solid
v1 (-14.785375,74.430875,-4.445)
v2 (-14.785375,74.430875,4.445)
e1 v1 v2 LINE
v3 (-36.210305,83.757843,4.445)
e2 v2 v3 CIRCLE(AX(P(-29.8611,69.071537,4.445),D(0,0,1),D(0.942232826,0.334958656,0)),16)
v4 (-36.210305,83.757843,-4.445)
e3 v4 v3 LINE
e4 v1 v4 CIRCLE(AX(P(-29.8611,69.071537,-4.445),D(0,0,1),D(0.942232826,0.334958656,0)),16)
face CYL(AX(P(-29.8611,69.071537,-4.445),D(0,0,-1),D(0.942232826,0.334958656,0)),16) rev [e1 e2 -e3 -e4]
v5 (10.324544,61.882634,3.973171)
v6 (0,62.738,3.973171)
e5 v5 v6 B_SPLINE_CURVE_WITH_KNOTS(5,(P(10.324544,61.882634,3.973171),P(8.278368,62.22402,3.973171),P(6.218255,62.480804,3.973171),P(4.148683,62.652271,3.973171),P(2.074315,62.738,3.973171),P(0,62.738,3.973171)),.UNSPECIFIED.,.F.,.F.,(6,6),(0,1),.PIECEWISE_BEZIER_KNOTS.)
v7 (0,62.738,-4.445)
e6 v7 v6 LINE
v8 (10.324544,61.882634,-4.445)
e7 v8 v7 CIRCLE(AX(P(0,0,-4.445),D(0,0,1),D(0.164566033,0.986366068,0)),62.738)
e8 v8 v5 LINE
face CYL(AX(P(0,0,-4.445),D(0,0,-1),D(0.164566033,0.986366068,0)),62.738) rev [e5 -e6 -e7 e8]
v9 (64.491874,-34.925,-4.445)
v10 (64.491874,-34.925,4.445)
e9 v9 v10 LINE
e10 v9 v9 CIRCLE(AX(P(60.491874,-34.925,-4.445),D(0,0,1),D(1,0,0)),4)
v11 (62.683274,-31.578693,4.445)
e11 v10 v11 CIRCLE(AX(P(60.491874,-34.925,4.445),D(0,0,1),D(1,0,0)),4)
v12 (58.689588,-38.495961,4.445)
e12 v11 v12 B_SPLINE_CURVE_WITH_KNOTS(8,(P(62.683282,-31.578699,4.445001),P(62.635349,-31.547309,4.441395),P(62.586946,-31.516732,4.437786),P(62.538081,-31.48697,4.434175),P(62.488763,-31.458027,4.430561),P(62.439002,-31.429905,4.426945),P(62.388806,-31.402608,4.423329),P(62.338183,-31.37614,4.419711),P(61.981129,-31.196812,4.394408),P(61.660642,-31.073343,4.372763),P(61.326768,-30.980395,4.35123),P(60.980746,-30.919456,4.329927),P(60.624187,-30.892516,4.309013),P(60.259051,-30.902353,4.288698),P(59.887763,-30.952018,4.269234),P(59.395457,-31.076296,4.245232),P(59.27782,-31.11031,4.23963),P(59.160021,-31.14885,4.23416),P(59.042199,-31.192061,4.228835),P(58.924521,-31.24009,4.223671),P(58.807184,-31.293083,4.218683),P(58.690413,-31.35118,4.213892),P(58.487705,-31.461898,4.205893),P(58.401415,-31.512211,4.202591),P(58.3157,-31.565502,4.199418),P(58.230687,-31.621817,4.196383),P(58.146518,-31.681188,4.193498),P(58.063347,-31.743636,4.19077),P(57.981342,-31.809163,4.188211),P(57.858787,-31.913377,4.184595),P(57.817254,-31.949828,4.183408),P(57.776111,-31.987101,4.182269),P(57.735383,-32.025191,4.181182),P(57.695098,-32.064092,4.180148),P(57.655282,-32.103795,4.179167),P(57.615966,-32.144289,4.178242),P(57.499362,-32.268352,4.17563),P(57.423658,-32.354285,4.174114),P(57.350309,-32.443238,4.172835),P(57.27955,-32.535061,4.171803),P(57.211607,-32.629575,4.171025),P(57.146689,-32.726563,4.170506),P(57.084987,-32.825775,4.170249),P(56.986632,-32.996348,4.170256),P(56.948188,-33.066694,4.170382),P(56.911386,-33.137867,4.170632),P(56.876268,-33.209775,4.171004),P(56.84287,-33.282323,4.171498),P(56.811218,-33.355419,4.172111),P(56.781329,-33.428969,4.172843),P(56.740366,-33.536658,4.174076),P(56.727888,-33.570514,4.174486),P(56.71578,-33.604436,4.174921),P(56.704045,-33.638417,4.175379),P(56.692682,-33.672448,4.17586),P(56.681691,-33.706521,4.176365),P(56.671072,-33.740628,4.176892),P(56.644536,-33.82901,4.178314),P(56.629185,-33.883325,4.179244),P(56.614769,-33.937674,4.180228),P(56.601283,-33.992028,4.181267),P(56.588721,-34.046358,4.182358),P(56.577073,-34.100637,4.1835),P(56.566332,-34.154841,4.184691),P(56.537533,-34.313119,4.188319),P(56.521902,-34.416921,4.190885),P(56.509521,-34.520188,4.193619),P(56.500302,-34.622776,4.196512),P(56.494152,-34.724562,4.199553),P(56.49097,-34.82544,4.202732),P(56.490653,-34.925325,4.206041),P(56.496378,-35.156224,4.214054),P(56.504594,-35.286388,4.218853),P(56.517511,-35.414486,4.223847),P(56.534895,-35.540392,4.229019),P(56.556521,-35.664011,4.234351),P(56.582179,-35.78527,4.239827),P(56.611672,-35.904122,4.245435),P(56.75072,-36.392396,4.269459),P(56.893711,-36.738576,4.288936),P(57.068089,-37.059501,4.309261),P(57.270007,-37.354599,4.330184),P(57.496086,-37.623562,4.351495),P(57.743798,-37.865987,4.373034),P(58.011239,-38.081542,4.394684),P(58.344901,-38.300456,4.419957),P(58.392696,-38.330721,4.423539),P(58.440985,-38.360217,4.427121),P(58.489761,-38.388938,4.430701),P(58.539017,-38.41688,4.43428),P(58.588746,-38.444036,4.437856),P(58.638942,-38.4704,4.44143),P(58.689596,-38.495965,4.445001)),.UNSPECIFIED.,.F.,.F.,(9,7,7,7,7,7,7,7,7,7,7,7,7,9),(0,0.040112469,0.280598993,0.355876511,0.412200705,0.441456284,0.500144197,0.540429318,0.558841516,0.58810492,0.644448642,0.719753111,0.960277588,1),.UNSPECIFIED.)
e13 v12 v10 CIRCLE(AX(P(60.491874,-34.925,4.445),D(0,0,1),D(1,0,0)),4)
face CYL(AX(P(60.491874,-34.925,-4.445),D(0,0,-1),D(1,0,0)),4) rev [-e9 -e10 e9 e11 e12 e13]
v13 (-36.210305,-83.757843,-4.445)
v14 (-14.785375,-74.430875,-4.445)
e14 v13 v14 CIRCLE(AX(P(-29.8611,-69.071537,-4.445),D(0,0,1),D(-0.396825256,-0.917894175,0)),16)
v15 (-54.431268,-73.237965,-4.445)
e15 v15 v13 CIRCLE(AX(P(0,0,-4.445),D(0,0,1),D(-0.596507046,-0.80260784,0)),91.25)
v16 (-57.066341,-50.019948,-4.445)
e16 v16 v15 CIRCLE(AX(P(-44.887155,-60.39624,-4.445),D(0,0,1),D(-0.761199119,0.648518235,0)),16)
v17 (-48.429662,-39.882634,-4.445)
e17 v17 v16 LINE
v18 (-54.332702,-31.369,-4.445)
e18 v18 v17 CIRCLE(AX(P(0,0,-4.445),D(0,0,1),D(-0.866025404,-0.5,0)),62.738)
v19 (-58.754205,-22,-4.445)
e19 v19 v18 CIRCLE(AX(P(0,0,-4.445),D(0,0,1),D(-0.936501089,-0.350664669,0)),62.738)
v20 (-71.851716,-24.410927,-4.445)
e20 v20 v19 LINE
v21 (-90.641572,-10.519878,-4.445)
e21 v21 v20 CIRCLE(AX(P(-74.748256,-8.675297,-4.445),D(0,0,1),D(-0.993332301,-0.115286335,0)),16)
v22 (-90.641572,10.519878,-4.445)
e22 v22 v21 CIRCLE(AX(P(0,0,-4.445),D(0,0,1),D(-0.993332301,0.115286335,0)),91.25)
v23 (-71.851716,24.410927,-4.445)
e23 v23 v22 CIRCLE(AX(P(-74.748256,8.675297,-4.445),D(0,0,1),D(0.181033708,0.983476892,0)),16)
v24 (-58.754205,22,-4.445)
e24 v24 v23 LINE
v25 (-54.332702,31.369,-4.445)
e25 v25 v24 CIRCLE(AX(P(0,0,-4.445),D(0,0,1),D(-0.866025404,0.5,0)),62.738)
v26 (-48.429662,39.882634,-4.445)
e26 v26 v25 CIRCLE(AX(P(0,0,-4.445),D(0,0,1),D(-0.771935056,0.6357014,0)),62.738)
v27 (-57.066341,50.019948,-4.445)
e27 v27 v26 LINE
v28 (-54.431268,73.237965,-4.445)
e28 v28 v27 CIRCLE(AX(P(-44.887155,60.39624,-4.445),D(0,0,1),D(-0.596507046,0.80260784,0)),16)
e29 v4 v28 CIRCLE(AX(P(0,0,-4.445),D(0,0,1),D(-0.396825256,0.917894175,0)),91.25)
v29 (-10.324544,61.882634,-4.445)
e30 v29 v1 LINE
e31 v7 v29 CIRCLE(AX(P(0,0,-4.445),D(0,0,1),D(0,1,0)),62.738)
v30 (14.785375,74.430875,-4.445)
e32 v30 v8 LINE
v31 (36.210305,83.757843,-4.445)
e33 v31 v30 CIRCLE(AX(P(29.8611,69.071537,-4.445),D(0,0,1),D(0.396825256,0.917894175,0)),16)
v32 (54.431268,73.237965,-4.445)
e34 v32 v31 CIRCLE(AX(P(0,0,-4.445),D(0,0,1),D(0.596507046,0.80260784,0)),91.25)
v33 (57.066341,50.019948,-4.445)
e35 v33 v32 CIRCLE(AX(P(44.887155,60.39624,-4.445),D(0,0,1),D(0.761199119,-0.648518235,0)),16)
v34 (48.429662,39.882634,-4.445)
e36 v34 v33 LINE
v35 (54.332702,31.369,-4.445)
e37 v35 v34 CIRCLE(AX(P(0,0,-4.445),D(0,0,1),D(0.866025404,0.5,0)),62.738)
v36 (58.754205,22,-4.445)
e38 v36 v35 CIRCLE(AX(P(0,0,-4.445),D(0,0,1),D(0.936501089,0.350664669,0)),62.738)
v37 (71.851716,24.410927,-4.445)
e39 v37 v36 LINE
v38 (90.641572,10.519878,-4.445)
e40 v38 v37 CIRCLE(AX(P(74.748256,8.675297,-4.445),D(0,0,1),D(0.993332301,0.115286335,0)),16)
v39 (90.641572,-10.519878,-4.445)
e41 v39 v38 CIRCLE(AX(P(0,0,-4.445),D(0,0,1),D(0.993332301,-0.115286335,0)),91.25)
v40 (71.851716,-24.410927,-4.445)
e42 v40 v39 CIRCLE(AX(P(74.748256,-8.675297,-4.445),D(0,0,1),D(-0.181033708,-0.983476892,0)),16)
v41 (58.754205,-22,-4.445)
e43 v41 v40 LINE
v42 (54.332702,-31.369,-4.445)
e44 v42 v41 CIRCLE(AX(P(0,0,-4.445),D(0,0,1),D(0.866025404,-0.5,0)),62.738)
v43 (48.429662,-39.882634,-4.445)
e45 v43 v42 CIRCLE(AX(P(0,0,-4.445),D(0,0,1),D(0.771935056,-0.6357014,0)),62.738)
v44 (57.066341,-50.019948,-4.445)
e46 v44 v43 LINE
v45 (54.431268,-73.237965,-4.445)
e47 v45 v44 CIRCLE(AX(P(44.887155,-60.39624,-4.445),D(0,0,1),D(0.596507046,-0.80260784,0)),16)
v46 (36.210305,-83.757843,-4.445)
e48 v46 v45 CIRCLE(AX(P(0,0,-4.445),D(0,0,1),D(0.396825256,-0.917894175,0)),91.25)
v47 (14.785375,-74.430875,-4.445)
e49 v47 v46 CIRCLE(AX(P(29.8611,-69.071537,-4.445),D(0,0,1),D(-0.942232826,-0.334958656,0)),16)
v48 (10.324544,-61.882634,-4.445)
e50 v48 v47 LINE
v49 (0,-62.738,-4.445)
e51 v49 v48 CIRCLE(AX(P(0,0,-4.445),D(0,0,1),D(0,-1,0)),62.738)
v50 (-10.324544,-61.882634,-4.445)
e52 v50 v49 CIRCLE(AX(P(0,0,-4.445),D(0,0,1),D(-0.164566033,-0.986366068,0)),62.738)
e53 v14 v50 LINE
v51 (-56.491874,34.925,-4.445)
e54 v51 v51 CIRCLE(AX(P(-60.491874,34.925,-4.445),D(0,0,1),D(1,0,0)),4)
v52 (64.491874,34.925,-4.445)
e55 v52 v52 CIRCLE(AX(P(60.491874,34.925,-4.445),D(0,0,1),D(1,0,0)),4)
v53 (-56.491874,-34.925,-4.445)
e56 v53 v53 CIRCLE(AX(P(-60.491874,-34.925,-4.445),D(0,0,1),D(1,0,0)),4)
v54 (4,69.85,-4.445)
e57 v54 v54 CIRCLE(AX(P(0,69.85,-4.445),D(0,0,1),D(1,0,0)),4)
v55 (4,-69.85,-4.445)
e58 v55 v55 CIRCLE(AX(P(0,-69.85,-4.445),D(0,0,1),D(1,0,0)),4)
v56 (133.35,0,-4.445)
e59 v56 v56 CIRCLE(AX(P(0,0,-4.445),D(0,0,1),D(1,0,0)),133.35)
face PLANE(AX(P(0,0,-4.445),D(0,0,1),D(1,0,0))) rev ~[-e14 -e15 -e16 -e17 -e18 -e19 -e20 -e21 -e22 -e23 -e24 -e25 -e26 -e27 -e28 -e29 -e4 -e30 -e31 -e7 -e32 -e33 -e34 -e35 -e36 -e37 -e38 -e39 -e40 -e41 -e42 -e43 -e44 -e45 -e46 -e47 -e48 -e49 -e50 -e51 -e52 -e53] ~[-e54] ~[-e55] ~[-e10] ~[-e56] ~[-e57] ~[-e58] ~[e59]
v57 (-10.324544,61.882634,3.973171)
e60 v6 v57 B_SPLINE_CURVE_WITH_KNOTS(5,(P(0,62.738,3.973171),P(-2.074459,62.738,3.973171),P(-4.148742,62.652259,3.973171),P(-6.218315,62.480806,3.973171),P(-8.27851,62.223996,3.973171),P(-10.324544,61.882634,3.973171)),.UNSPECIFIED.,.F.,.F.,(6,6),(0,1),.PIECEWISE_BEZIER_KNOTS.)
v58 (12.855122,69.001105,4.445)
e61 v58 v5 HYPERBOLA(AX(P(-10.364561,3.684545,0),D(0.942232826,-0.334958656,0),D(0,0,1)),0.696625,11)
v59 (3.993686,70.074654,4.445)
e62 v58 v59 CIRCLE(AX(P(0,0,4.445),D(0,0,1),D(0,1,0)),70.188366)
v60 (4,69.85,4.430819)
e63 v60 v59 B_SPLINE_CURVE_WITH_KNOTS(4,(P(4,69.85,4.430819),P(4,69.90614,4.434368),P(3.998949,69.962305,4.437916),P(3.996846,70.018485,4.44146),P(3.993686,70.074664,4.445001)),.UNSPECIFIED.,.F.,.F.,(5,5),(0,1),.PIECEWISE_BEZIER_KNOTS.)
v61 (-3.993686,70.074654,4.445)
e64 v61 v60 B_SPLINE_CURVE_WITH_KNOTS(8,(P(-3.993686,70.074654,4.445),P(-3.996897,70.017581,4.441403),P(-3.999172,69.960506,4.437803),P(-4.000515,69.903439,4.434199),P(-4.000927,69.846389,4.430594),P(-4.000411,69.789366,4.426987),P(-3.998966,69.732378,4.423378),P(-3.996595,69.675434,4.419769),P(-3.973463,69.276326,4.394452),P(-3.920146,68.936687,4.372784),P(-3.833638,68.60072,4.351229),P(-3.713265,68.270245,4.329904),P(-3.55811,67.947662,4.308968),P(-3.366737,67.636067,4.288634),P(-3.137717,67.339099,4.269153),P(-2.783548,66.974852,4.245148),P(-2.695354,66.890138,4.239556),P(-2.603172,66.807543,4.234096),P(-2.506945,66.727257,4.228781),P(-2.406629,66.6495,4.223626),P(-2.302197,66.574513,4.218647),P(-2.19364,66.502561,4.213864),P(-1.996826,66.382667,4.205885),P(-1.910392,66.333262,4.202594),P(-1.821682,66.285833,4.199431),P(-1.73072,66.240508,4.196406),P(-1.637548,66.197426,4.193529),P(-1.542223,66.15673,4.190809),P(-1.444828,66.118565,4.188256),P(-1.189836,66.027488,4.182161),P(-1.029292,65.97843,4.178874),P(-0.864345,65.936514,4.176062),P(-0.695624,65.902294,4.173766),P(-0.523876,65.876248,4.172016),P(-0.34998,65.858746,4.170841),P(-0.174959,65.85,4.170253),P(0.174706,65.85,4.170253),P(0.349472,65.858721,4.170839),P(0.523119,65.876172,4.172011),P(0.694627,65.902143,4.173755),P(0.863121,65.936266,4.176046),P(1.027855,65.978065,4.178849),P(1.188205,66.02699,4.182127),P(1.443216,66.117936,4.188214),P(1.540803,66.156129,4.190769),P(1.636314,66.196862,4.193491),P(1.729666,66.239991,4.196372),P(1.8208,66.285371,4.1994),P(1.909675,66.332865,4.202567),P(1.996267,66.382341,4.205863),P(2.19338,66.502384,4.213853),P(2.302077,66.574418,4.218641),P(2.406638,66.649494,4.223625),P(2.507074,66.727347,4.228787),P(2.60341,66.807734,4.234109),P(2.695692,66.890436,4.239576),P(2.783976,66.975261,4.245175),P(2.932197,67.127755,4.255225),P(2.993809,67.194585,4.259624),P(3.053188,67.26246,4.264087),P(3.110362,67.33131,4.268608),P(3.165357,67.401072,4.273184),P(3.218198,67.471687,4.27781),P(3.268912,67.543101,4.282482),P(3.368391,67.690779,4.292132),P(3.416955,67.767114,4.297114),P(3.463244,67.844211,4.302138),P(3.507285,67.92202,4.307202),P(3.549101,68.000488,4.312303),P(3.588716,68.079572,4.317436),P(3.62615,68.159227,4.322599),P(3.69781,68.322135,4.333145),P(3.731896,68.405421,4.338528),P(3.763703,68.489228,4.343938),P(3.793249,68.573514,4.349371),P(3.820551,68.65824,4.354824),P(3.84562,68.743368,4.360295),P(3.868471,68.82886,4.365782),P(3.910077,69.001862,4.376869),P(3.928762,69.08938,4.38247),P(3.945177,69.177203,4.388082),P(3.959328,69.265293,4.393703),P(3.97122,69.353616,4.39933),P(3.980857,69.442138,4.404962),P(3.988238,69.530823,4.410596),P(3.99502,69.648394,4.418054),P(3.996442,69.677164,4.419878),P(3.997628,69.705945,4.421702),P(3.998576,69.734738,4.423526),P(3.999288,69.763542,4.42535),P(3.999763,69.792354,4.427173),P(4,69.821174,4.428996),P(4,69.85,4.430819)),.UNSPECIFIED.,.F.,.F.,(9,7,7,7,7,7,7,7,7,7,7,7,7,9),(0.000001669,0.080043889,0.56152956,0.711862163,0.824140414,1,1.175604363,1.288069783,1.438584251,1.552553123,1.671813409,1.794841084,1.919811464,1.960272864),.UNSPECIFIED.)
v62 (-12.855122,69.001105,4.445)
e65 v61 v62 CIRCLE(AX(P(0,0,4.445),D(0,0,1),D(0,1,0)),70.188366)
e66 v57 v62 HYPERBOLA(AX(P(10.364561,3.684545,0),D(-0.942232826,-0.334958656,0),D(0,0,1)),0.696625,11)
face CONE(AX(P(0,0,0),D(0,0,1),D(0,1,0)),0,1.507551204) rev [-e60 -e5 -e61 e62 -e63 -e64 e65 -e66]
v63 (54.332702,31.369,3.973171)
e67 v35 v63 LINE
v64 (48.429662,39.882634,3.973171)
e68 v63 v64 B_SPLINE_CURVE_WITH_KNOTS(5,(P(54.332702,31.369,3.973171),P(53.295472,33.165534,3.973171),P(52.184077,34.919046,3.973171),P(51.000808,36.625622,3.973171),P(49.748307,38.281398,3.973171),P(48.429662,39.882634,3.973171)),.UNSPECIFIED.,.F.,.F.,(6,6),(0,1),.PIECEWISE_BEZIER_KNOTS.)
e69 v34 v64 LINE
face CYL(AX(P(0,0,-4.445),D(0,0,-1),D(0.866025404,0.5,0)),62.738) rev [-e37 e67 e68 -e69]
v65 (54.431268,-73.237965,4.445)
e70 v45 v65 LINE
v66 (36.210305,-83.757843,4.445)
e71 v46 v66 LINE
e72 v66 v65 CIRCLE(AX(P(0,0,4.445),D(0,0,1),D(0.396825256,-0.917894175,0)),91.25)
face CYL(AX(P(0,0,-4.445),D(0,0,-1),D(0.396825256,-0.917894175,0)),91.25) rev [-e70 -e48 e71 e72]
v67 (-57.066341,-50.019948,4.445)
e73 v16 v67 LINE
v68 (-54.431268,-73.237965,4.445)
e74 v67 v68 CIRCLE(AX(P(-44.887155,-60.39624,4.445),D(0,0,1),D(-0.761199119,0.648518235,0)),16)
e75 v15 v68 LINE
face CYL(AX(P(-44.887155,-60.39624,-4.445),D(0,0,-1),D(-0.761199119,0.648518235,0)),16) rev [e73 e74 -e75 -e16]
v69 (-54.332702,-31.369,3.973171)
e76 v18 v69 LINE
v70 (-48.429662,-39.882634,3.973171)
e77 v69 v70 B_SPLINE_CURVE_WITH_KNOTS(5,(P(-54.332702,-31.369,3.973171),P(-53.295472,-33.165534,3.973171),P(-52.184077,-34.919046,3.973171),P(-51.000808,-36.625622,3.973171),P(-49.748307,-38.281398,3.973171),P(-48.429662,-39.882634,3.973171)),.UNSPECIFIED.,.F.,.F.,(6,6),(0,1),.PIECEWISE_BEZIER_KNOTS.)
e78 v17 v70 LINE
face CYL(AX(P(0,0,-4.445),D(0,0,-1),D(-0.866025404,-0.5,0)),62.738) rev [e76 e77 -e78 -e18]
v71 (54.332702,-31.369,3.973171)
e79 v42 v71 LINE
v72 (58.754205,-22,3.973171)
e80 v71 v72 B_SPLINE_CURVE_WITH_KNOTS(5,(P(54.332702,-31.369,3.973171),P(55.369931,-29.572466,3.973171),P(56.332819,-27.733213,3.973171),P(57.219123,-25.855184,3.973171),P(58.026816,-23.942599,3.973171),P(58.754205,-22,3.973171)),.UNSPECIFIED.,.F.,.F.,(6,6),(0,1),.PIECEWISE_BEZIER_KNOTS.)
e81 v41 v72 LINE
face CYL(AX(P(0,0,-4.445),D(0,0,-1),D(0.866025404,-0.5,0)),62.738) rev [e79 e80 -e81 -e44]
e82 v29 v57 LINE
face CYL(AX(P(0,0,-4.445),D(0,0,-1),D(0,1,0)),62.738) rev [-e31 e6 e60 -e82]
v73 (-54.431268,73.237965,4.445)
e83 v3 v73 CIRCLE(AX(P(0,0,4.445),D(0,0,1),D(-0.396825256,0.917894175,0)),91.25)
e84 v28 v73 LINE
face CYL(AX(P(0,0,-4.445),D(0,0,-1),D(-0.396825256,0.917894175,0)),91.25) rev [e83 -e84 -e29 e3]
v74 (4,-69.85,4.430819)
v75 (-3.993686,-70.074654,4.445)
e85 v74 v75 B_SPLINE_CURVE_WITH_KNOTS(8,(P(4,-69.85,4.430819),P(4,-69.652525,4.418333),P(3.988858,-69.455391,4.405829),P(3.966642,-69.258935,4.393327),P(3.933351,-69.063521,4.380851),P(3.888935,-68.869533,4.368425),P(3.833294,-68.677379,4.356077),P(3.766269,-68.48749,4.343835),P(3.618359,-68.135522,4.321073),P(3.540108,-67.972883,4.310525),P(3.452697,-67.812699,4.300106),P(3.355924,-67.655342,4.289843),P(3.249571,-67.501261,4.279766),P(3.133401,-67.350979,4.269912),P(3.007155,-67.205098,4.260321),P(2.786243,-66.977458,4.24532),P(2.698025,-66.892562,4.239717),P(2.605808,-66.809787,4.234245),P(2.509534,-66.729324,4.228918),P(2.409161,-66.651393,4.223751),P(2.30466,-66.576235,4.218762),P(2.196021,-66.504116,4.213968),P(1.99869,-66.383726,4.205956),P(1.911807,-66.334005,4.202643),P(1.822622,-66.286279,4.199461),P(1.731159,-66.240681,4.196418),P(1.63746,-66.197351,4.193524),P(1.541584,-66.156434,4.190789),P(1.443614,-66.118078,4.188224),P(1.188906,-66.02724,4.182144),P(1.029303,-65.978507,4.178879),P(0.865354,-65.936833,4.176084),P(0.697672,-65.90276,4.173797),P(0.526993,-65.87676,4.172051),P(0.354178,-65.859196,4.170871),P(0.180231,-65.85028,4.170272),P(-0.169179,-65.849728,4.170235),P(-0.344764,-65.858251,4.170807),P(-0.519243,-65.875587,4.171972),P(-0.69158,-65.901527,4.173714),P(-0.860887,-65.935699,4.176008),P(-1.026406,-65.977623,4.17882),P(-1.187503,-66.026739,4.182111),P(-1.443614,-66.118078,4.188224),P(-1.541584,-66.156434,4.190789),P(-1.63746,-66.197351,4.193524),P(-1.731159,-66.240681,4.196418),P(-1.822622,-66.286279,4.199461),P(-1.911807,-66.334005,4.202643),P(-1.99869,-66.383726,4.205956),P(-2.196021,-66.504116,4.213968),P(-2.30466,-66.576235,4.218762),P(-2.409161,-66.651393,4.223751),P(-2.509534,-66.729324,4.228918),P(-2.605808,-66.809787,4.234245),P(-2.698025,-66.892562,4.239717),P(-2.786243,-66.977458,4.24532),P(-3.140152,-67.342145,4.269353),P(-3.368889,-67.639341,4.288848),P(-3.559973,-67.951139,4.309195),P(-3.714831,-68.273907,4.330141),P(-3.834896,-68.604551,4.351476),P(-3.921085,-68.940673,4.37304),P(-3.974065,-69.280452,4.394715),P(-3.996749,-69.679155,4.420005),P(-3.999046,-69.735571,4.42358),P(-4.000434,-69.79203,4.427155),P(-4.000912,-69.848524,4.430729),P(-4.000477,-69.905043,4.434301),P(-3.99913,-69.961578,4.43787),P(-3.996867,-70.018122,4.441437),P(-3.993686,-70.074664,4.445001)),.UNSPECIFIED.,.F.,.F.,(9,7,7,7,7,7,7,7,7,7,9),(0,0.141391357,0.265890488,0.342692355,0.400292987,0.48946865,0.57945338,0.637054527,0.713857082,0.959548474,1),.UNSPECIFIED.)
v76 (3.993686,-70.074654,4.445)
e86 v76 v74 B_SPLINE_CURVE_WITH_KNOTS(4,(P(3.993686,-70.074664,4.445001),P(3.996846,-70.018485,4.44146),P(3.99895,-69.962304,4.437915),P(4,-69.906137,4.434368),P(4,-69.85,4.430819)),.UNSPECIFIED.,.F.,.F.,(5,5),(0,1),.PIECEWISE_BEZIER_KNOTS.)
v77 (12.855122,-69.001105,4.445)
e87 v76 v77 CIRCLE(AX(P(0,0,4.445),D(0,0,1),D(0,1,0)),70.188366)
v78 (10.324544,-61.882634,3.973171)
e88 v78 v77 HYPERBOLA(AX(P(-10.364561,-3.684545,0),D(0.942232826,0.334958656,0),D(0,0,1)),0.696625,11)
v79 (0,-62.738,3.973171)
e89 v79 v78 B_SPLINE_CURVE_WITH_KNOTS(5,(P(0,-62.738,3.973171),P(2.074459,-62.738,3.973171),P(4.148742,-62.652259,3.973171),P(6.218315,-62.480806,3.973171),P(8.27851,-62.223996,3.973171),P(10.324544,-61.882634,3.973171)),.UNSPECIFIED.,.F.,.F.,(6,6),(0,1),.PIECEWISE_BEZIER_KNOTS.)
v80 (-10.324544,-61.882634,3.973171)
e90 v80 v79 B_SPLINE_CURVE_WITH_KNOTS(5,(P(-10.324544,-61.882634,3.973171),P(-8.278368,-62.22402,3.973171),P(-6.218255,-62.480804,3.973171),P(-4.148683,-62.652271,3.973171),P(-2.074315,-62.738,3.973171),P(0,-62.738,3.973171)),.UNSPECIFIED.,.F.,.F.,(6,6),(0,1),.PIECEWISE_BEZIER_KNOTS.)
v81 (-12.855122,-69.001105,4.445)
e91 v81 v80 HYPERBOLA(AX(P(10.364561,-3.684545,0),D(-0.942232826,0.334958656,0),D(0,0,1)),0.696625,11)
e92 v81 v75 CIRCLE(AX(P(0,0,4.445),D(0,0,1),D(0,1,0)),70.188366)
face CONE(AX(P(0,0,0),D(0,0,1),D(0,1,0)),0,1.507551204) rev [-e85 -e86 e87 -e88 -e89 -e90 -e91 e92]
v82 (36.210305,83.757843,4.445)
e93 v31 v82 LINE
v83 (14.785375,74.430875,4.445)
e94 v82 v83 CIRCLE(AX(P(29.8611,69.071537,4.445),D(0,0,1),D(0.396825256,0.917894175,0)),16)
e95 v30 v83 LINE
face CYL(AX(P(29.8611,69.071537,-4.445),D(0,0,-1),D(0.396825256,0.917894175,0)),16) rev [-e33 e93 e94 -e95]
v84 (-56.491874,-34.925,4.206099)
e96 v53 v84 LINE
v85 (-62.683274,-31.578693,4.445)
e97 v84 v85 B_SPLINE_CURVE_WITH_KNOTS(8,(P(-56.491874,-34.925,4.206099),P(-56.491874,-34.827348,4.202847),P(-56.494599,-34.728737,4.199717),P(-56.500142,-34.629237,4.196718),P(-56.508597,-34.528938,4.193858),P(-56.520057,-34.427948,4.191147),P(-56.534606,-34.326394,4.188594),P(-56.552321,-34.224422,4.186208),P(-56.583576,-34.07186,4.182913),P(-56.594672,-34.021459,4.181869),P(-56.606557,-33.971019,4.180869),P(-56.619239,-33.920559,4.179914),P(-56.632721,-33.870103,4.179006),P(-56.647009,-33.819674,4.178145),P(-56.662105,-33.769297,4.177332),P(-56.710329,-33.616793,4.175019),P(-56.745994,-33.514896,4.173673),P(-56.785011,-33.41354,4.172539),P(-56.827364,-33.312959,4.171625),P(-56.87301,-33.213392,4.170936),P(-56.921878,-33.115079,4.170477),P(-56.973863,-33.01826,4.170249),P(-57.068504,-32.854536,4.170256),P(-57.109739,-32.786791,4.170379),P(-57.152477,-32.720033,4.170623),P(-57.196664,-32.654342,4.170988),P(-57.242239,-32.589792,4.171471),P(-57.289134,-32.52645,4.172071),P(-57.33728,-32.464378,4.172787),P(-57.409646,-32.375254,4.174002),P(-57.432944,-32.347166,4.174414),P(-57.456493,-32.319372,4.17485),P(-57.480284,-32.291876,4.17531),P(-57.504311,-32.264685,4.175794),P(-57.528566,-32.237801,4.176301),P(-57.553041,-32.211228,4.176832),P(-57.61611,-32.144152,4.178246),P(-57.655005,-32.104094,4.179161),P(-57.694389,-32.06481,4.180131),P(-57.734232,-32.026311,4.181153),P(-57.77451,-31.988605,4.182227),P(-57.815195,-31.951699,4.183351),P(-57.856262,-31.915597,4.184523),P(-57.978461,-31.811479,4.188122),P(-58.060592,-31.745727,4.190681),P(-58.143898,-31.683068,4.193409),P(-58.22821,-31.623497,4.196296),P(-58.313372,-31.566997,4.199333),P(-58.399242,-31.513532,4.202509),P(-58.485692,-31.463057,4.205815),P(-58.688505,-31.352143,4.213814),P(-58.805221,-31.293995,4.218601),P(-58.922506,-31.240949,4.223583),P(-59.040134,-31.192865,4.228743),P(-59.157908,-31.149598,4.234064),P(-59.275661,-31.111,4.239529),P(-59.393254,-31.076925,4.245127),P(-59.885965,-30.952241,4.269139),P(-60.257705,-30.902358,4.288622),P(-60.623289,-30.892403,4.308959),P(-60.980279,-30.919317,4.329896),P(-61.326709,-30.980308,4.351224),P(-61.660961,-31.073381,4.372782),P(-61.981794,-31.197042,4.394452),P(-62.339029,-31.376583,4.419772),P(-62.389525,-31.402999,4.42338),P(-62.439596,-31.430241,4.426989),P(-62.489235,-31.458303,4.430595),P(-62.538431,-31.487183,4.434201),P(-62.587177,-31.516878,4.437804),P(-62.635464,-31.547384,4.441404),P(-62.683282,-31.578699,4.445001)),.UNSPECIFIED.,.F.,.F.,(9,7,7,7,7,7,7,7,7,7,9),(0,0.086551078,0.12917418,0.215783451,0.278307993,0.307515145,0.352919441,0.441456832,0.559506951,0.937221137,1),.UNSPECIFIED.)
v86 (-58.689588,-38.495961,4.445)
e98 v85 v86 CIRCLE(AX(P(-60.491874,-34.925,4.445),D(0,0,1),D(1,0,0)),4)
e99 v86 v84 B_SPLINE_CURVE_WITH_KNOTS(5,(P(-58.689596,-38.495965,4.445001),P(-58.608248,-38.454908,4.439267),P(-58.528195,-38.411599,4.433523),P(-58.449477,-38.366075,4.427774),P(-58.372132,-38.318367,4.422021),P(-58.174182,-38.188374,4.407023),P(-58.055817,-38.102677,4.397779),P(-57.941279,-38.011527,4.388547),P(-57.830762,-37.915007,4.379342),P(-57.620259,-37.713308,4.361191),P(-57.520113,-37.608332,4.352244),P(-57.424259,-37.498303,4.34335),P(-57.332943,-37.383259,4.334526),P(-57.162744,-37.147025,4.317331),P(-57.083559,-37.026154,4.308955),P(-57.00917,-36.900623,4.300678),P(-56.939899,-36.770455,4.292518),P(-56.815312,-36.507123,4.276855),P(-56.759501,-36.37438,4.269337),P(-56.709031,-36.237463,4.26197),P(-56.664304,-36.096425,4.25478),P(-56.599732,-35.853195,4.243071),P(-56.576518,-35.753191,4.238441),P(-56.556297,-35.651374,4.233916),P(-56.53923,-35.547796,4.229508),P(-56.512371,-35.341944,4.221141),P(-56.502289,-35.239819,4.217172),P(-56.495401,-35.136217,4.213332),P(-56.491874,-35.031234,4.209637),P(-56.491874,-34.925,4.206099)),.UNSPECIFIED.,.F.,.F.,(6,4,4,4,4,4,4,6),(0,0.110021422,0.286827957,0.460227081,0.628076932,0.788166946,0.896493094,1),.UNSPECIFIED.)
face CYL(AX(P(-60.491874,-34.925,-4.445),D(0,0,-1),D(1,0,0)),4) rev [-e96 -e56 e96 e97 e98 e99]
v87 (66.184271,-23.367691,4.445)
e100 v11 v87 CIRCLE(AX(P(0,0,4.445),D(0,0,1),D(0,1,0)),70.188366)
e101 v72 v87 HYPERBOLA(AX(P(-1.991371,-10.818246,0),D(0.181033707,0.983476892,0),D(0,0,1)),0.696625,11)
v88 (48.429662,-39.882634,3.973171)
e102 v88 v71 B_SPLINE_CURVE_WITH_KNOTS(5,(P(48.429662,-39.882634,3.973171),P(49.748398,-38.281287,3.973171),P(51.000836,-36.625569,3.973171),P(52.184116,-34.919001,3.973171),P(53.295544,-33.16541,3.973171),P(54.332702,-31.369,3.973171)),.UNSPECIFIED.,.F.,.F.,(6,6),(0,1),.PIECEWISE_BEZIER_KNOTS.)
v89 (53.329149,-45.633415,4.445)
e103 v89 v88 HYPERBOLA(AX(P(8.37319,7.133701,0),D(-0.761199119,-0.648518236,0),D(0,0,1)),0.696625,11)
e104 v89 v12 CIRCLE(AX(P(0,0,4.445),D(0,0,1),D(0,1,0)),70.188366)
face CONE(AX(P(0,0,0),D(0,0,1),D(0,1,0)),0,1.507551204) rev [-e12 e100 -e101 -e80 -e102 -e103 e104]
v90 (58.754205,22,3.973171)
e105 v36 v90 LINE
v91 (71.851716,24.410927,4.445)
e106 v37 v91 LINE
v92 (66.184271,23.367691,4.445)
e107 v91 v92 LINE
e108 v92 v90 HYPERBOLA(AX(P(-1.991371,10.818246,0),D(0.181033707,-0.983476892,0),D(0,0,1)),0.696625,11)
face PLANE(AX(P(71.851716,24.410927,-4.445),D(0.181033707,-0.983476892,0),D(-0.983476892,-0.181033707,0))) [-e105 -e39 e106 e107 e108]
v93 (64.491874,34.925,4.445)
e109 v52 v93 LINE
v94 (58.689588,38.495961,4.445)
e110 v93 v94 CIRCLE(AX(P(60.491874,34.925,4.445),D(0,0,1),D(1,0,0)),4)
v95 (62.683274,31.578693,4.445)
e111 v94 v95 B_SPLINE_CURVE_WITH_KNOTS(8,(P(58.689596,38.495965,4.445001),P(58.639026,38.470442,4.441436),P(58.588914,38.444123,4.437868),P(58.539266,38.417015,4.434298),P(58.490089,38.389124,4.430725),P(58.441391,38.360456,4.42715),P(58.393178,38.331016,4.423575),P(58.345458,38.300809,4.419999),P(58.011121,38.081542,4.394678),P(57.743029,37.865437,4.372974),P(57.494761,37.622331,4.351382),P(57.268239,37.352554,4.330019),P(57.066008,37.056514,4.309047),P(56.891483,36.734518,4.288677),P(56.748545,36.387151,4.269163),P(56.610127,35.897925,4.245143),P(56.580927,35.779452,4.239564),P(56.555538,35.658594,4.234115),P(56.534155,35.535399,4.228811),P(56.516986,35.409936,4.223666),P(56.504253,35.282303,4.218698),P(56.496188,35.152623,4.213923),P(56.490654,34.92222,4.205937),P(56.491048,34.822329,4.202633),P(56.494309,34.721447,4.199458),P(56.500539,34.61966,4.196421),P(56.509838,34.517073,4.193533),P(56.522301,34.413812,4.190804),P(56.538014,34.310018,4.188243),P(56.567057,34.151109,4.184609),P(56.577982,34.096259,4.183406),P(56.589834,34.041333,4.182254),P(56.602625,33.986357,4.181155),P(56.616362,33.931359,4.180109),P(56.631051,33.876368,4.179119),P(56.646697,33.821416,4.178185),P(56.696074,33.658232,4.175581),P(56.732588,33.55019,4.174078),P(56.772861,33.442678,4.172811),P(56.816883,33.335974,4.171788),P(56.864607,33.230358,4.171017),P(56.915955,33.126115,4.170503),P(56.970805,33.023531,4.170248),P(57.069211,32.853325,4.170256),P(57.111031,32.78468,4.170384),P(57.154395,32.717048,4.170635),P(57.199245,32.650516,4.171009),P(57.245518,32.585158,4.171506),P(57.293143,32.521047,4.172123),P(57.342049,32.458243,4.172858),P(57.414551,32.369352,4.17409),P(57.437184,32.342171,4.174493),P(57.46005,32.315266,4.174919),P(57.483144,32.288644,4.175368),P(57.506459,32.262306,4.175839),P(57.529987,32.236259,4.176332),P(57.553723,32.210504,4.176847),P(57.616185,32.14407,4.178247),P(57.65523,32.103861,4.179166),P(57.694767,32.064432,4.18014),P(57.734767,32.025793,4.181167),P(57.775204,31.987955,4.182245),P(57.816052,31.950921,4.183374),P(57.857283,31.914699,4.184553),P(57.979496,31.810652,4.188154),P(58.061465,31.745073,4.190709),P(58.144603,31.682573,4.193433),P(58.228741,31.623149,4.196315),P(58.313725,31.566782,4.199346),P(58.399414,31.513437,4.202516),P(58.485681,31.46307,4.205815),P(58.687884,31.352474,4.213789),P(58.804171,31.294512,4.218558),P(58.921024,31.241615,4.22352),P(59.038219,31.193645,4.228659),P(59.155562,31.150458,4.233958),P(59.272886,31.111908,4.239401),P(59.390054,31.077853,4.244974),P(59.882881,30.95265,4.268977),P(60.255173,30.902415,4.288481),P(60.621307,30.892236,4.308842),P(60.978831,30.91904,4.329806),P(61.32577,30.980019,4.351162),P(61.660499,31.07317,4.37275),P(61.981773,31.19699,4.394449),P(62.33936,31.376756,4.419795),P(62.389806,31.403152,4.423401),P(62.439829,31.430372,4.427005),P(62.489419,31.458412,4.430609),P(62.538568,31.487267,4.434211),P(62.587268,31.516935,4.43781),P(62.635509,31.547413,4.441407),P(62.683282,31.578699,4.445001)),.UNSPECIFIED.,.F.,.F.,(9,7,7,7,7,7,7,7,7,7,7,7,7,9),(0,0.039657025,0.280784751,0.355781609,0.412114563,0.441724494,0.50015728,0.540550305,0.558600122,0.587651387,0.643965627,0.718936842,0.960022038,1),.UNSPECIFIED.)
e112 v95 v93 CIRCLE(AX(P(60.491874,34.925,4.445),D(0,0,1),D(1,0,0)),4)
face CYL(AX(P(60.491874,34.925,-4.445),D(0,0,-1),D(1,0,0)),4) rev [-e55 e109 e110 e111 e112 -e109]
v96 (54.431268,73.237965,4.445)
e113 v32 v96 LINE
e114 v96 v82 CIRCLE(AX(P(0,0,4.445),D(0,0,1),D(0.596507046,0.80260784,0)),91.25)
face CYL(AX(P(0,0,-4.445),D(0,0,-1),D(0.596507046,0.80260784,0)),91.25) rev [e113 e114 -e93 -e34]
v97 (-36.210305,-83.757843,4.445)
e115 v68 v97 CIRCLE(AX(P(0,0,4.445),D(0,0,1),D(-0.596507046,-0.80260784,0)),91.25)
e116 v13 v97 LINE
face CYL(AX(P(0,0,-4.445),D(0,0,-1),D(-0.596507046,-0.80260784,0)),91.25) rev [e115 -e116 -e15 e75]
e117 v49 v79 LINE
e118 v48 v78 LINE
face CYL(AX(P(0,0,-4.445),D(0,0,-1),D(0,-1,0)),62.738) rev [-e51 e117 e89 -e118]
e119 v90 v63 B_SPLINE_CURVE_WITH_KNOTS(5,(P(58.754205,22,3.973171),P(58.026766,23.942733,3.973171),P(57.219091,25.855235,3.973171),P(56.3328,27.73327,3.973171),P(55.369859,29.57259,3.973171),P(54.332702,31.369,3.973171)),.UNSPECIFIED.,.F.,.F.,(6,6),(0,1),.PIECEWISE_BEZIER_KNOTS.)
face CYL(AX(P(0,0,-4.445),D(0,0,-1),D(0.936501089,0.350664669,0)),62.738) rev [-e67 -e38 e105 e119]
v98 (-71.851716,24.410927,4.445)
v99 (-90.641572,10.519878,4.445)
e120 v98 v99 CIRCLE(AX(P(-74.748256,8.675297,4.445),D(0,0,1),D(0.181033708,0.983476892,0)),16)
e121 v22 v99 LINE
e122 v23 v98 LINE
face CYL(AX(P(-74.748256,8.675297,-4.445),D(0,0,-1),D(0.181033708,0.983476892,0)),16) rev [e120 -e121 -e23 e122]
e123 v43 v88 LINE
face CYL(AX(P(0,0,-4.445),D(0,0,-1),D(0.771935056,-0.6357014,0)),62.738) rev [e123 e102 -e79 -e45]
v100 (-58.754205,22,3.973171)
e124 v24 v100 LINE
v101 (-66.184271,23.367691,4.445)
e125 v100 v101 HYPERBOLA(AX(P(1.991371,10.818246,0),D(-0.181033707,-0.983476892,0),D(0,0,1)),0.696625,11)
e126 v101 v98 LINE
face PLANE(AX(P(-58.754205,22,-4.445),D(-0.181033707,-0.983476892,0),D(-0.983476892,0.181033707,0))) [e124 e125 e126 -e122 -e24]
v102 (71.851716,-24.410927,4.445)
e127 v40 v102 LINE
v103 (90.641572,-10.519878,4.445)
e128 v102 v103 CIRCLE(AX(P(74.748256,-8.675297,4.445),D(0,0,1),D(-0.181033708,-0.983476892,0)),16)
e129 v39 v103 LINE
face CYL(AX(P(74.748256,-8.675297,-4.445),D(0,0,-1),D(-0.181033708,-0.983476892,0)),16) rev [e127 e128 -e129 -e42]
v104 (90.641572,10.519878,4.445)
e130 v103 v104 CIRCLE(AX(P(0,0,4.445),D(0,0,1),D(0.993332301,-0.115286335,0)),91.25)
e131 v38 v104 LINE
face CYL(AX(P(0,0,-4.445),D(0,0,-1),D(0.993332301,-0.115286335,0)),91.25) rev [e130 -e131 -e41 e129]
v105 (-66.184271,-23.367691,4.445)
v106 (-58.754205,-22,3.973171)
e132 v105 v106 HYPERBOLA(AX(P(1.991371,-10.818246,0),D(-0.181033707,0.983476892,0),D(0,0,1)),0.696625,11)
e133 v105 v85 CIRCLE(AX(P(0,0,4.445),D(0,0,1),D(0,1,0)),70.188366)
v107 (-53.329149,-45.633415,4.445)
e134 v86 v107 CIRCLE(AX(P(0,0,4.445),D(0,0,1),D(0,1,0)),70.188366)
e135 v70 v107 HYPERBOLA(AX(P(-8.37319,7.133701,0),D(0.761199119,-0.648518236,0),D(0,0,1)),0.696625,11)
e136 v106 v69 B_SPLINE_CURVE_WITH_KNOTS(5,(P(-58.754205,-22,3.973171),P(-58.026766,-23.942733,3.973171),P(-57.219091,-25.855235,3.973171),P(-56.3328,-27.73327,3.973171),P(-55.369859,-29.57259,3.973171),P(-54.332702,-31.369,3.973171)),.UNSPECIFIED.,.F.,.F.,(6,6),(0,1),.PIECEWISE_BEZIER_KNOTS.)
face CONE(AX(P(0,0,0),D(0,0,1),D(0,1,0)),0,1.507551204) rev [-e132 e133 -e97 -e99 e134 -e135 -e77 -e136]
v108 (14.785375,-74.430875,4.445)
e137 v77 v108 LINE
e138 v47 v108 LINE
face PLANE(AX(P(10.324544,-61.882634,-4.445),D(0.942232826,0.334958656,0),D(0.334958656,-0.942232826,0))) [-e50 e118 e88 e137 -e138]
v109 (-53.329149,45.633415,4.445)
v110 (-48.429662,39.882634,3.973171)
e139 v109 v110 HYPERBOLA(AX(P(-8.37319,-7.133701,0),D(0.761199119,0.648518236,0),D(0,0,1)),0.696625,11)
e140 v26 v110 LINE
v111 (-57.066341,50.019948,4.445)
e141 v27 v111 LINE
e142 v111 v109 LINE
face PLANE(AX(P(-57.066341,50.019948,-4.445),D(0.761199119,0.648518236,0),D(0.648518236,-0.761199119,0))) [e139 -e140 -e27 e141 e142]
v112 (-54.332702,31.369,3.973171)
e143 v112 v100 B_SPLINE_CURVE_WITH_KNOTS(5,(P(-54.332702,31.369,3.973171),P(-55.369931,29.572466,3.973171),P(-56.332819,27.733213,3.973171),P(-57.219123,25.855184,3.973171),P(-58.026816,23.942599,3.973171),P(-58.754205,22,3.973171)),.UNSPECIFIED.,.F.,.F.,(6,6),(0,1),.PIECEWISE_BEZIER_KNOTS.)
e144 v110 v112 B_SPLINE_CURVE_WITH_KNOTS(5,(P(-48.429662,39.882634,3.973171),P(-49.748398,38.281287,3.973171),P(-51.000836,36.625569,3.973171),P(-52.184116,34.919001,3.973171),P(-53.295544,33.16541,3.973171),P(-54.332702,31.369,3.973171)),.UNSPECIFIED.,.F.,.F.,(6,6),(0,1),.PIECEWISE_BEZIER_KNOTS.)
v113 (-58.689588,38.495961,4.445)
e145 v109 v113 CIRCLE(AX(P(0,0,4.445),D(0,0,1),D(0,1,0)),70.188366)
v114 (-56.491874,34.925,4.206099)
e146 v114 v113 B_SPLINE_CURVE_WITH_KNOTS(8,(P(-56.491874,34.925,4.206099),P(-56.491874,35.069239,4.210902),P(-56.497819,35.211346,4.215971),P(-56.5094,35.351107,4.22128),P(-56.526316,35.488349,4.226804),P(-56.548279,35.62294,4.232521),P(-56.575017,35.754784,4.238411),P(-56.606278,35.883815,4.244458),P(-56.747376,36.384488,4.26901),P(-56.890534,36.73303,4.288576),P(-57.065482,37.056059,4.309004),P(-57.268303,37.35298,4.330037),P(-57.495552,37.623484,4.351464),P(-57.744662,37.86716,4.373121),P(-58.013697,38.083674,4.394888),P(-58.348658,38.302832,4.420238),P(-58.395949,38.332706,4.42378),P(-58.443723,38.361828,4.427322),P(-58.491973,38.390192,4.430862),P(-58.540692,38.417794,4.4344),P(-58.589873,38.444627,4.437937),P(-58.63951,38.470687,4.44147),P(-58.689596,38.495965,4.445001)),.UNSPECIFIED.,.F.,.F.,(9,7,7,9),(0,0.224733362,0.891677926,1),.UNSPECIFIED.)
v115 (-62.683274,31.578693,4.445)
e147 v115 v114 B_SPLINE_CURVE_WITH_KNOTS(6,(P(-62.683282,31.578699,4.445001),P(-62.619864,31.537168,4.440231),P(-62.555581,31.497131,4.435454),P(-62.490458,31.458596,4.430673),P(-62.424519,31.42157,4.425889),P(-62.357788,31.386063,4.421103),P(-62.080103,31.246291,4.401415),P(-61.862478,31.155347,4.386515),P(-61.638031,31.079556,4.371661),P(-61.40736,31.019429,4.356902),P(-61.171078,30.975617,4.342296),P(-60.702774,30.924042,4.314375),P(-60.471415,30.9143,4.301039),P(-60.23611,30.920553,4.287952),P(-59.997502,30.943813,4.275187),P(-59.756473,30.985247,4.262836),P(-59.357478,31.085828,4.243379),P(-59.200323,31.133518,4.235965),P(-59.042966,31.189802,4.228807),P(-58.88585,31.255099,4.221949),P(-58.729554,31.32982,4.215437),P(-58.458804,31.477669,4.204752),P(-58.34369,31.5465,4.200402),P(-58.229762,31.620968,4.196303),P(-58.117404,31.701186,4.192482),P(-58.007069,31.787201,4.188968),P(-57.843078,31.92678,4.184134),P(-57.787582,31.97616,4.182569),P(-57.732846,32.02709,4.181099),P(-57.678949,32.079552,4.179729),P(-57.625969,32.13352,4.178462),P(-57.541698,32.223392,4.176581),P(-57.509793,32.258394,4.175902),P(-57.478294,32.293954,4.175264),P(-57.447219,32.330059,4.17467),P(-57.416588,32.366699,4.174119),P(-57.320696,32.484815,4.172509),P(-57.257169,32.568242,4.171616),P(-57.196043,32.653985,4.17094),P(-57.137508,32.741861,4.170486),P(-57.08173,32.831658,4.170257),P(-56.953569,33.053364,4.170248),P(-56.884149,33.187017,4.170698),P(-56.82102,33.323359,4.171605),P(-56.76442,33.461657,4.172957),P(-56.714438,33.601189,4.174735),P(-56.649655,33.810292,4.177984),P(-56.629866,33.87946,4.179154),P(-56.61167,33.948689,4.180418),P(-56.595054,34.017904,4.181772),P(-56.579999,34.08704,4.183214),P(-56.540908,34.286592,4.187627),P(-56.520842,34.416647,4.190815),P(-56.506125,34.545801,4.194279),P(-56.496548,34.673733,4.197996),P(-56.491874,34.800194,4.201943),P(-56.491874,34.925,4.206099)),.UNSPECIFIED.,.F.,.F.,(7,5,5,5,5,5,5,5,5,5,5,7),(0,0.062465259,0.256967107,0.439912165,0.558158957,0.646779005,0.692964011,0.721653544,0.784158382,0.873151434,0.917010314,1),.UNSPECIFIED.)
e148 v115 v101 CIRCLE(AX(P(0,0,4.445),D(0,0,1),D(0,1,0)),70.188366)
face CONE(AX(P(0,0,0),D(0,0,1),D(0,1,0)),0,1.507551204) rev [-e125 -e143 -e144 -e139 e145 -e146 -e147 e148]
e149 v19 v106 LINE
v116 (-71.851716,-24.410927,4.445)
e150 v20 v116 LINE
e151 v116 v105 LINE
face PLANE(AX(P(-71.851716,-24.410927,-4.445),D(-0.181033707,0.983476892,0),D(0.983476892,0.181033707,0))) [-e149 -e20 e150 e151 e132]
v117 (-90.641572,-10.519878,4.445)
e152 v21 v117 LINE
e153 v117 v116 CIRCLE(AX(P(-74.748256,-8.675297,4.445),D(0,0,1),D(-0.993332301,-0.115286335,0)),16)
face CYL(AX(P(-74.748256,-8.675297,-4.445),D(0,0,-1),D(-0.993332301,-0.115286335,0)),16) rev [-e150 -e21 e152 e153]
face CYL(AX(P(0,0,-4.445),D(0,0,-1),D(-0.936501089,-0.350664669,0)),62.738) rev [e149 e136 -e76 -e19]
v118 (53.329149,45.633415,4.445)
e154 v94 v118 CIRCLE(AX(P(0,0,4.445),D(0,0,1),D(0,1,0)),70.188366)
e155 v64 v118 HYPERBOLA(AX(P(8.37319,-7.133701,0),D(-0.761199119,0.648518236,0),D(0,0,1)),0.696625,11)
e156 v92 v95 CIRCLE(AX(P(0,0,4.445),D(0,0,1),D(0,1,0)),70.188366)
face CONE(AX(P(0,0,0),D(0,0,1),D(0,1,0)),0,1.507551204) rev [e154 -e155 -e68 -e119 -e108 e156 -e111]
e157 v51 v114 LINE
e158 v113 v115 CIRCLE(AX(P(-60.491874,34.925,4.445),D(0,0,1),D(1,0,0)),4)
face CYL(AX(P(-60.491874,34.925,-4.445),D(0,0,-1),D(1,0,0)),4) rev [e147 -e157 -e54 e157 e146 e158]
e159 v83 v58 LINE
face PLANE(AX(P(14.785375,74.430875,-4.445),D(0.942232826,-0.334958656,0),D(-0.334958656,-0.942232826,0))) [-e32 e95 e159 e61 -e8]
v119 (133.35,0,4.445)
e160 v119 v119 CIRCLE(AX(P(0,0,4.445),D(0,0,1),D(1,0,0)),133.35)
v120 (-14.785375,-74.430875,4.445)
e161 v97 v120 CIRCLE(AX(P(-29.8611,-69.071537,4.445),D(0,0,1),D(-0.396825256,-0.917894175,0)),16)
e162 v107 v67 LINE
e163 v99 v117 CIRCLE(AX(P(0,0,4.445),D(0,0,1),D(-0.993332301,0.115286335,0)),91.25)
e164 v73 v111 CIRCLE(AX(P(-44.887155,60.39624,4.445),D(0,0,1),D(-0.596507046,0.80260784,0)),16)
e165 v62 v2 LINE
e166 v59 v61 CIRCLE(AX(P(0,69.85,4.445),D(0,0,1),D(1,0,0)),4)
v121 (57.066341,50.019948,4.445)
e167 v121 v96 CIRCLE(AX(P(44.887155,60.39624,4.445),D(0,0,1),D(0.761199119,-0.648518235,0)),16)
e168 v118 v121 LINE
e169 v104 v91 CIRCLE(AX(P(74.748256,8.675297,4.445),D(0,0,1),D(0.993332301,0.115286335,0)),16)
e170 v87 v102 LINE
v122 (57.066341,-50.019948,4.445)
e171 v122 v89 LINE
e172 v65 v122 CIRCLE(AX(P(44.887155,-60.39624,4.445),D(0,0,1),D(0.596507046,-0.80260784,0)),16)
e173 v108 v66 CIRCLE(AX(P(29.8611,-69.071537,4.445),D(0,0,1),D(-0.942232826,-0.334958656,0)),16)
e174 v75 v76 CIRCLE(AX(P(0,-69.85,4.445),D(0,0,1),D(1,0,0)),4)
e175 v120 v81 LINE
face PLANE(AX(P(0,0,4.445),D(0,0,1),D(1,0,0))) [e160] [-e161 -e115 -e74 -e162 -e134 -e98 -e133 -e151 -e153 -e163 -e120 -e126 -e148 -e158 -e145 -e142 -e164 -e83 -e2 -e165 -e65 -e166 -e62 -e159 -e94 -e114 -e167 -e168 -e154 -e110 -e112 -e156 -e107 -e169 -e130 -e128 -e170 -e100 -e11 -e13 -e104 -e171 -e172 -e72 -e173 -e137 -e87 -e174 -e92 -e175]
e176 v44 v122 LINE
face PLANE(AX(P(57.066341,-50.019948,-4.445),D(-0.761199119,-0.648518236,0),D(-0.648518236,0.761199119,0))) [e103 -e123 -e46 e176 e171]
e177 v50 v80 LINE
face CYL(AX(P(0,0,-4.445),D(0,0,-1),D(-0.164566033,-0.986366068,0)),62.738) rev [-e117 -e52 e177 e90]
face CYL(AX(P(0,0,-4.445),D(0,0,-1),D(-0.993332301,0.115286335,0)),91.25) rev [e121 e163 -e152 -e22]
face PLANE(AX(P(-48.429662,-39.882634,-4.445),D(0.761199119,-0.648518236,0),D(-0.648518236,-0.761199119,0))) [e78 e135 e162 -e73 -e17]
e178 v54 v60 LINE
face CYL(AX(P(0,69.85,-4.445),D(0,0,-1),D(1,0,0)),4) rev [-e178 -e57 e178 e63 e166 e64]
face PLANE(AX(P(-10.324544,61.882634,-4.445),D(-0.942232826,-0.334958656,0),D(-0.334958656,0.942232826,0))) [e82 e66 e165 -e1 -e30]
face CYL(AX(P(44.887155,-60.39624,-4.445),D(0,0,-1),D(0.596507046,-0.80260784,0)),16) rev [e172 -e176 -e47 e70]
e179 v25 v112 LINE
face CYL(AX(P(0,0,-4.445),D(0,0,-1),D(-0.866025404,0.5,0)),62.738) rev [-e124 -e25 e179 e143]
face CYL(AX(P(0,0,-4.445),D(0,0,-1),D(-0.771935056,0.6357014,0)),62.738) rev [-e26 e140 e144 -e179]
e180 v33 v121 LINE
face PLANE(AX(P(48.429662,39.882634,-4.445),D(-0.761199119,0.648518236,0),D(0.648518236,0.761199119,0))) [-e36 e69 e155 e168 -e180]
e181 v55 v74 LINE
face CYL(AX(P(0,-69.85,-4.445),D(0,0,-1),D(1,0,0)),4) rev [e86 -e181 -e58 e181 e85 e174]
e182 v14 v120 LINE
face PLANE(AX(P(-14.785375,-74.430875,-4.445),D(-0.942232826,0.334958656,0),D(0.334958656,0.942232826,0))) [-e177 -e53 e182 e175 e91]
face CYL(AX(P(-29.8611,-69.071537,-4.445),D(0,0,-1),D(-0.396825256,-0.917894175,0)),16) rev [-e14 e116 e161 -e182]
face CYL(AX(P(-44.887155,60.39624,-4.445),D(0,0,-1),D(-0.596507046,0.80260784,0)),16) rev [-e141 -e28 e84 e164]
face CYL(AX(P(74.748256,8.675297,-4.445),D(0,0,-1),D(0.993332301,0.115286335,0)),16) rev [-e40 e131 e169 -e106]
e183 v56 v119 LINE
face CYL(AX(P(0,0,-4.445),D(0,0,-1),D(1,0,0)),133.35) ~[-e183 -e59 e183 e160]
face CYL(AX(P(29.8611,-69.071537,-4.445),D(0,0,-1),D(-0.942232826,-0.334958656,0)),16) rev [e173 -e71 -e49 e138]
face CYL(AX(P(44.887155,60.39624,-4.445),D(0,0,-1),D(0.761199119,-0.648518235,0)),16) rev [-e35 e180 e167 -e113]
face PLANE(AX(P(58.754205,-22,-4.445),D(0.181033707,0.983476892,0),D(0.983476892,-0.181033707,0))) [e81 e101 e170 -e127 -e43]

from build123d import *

# Parameters (mm, degrees)
BOSS_EXTRUDE1_DEPTH      = 4.445
BOSS_EXTRUDE1_DEPTH_BACK = 4.445
SKETCH1_R                = 133.35
SKETCH1_R_2              = 4


with BuildPart() as part:
    # Sketch1 → Boss-Extrude1 (new, two sides: drawn at the far end of the back side and taken through both)
    with BuildSketch(Plane.XY.offset(-BOSS_EXTRUDE1_DEPTH_BACK)):
        Circle(SKETCH1_R)
        with Locations((0, 69.85)):
            Circle(SKETCH1_R_2, mode=Mode.SUBTRACT)
        with Locations((60.491874454, 34.925)):
            Circle(SKETCH1_R_2, mode=Mode.SUBTRACT)
        with Locations((60.491874454, -34.925)):
            Circle(SKETCH1_R_2, mode=Mode.SUBTRACT)
        with Locations((0, -69.85)):
            Circle(SKETCH1_R_2, mode=Mode.SUBTRACT)
        with Locations((-60.491874454, -34.925)):
            Circle(SKETCH1_R_2, mode=Mode.SUBTRACT)
        with Locations((-60.491874454, 34.925)):
            Circle(SKETCH1_R_2, mode=Mode.SUBTRACT)
        with BuildLine():
            Line((14.785375278, 74.430875165), (10.324543782, 61.882634395))
            ThreePointArc((10.324543782, 61.882634395), (5.179957882, 62.523792914), (0, 62.738))
            ThreePointArc((0, 62.738), (-5.179957882, 62.523792914), (-10.324543782, 61.882634395))
            Line((-10.324543782, 61.882634395), (-14.785375278, 74.430875165))
            ThreePointArc((-14.785375278, 74.430875165), (-23.474698759, 83.741706154), (-36.210304588, 83.757843464))
            ThreePointArc((-36.210304588, 83.757843464), (-45.625, 79.024818095), (-54.431267912, 73.237965383))
            ThreePointArc((-54.431267912, 73.237965383), (-60.785095506, 62.200538548), (-57.06634108, 50.019948178))
            Line((-57.06634108, 50.019948178), (-48.429661548, 39.882634395))
            ThreePointArc((-48.429661548, 39.882634395), (-51.557214064, 35.747871573), (-54.332701783, 31.369))
            ThreePointArc((-54.332701783, 31.369), (-56.737171945, 26.775921341), (-58.75420533, 22))
            Line((-58.75420533, 22), (-71.851716358, 24.410926987))
            ThreePointArc((-71.851716358, 24.410926987), (-84.259794265, 21.541167606), (-90.641572499, 10.51987808))
            ThreePointArc((-90.641572499, 10.51987808), (-91.25, 0), (-90.641572499, -10.51987808))
            ThreePointArc((-90.641572499, -10.51987808), (-84.259794265, -21.541167606), (-71.851716358, -24.410926987))
            Line((-71.851716358, -24.410926987), (-58.75420533, -22))
            ThreePointArc((-58.75420533, -22), (-56.737171945, -26.775921341), (-54.332701783, -31.369))
            ThreePointArc((-54.332701783, -31.369), (-51.557214064, -35.747871573), (-48.429661548, -39.882634395))
            Line((-48.429661548, -39.882634395), (-57.06634108, -50.019948178))
            ThreePointArc((-57.06634108, -50.019948178), (-60.785095506, -62.200538548), (-54.431267912, -73.237965383))
            ThreePointArc((-54.431267912, -73.237965383), (-45.625, -79.024818095), (-36.210304588, -83.757843464))
            ThreePointArc((-36.210304588, -83.757843464), (-23.474698759, -83.741706154), (-14.785375278, -74.430875165))
            Line((-14.785375278, -74.430875165), (-10.324543782, -61.882634395))
            ThreePointArc((-10.324543782, -61.882634395), (-5.179957882, -62.523792914), (0, -62.738))
            ThreePointArc((0, -62.738), (5.179957882, -62.523792914), (10.324543782, -61.882634395))
            Line((10.324543782, -61.882634395), (14.785375278, -74.430875165))
            ThreePointArc((14.785375278, -74.430875165), (23.474698759, -83.741706154), (36.210304588, -83.757843464))
            ThreePointArc((36.210304588, -83.757843464), (45.625, -79.024818095), (54.431267912, -73.237965383))
            ThreePointArc((54.431267912, -73.237965383), (60.785095506, -62.200538548), (57.06634108, -50.019948178))
            Line((57.06634108, -50.019948178), (48.429661548, -39.882634395))
            ThreePointArc((48.429661548, -39.882634395), (51.557214064, -35.747871573), (54.332701783, -31.369))
            ThreePointArc((54.332701783, -31.369), (56.737171945, -26.775921341), (58.75420533, -22))
            Line((58.75420533, -22), (71.851716358, -24.410926987))
            ThreePointArc((71.851716358, -24.410926987), (84.259794265, -21.541167606), (90.641572499, -10.51987808))
            ThreePointArc((90.641572499, -10.51987808), (91.25, 0), (90.641572499, 10.51987808))
            ThreePointArc((90.641572499, 10.51987808), (84.259794265, 21.541167606), (71.851716358, 24.410926987))
            Line((71.851716358, 24.410926987), (58.75420533, 22))
            ThreePointArc((58.75420533, 22), (56.737171945, 26.775921341), (54.332701783, 31.369))
            ThreePointArc((54.332701783, 31.369), (51.557214064, 35.747871573), (48.429661548, 39.882634395))
            Line((48.429661548, 39.882634395), (57.06634108, 50.019948178))
            ThreePointArc((57.06634108, 50.019948178), (60.785095506, 62.200538548), (54.431267912, 73.237965383))
            ThreePointArc((54.431267912, 73.237965383), (45.625, 79.024818095), (36.210304588, 83.757843464))
            ThreePointArc((36.210304588, 83.757843464), (23.474698759, 83.741706154), (14.785375278, 74.430875165))
        make_face(mode=Mode.SUBTRACT)
    extrude(amount=BOSS_EXTRUDE1_DEPTH + BOSS_EXTRUDE1_DEPTH_BACK)

    # Sketch2 → Cut-Revolve1 (revolve, cut)
    with BuildSketch(Plane(origin=(0, 0, 0), x_dir=(0, 0, -1), z_dir=(1, 0, 0))):
        Polygon((0, 0), (-8.445, 133.35), (-26.557438236, 133.35), (-26.557438236, 0), align=None)
    revolve(axis=Axis((0, 0, 33.831792396), (0, 0, -1)), mode=Mode.SUBTRACT)


solid = part.part
